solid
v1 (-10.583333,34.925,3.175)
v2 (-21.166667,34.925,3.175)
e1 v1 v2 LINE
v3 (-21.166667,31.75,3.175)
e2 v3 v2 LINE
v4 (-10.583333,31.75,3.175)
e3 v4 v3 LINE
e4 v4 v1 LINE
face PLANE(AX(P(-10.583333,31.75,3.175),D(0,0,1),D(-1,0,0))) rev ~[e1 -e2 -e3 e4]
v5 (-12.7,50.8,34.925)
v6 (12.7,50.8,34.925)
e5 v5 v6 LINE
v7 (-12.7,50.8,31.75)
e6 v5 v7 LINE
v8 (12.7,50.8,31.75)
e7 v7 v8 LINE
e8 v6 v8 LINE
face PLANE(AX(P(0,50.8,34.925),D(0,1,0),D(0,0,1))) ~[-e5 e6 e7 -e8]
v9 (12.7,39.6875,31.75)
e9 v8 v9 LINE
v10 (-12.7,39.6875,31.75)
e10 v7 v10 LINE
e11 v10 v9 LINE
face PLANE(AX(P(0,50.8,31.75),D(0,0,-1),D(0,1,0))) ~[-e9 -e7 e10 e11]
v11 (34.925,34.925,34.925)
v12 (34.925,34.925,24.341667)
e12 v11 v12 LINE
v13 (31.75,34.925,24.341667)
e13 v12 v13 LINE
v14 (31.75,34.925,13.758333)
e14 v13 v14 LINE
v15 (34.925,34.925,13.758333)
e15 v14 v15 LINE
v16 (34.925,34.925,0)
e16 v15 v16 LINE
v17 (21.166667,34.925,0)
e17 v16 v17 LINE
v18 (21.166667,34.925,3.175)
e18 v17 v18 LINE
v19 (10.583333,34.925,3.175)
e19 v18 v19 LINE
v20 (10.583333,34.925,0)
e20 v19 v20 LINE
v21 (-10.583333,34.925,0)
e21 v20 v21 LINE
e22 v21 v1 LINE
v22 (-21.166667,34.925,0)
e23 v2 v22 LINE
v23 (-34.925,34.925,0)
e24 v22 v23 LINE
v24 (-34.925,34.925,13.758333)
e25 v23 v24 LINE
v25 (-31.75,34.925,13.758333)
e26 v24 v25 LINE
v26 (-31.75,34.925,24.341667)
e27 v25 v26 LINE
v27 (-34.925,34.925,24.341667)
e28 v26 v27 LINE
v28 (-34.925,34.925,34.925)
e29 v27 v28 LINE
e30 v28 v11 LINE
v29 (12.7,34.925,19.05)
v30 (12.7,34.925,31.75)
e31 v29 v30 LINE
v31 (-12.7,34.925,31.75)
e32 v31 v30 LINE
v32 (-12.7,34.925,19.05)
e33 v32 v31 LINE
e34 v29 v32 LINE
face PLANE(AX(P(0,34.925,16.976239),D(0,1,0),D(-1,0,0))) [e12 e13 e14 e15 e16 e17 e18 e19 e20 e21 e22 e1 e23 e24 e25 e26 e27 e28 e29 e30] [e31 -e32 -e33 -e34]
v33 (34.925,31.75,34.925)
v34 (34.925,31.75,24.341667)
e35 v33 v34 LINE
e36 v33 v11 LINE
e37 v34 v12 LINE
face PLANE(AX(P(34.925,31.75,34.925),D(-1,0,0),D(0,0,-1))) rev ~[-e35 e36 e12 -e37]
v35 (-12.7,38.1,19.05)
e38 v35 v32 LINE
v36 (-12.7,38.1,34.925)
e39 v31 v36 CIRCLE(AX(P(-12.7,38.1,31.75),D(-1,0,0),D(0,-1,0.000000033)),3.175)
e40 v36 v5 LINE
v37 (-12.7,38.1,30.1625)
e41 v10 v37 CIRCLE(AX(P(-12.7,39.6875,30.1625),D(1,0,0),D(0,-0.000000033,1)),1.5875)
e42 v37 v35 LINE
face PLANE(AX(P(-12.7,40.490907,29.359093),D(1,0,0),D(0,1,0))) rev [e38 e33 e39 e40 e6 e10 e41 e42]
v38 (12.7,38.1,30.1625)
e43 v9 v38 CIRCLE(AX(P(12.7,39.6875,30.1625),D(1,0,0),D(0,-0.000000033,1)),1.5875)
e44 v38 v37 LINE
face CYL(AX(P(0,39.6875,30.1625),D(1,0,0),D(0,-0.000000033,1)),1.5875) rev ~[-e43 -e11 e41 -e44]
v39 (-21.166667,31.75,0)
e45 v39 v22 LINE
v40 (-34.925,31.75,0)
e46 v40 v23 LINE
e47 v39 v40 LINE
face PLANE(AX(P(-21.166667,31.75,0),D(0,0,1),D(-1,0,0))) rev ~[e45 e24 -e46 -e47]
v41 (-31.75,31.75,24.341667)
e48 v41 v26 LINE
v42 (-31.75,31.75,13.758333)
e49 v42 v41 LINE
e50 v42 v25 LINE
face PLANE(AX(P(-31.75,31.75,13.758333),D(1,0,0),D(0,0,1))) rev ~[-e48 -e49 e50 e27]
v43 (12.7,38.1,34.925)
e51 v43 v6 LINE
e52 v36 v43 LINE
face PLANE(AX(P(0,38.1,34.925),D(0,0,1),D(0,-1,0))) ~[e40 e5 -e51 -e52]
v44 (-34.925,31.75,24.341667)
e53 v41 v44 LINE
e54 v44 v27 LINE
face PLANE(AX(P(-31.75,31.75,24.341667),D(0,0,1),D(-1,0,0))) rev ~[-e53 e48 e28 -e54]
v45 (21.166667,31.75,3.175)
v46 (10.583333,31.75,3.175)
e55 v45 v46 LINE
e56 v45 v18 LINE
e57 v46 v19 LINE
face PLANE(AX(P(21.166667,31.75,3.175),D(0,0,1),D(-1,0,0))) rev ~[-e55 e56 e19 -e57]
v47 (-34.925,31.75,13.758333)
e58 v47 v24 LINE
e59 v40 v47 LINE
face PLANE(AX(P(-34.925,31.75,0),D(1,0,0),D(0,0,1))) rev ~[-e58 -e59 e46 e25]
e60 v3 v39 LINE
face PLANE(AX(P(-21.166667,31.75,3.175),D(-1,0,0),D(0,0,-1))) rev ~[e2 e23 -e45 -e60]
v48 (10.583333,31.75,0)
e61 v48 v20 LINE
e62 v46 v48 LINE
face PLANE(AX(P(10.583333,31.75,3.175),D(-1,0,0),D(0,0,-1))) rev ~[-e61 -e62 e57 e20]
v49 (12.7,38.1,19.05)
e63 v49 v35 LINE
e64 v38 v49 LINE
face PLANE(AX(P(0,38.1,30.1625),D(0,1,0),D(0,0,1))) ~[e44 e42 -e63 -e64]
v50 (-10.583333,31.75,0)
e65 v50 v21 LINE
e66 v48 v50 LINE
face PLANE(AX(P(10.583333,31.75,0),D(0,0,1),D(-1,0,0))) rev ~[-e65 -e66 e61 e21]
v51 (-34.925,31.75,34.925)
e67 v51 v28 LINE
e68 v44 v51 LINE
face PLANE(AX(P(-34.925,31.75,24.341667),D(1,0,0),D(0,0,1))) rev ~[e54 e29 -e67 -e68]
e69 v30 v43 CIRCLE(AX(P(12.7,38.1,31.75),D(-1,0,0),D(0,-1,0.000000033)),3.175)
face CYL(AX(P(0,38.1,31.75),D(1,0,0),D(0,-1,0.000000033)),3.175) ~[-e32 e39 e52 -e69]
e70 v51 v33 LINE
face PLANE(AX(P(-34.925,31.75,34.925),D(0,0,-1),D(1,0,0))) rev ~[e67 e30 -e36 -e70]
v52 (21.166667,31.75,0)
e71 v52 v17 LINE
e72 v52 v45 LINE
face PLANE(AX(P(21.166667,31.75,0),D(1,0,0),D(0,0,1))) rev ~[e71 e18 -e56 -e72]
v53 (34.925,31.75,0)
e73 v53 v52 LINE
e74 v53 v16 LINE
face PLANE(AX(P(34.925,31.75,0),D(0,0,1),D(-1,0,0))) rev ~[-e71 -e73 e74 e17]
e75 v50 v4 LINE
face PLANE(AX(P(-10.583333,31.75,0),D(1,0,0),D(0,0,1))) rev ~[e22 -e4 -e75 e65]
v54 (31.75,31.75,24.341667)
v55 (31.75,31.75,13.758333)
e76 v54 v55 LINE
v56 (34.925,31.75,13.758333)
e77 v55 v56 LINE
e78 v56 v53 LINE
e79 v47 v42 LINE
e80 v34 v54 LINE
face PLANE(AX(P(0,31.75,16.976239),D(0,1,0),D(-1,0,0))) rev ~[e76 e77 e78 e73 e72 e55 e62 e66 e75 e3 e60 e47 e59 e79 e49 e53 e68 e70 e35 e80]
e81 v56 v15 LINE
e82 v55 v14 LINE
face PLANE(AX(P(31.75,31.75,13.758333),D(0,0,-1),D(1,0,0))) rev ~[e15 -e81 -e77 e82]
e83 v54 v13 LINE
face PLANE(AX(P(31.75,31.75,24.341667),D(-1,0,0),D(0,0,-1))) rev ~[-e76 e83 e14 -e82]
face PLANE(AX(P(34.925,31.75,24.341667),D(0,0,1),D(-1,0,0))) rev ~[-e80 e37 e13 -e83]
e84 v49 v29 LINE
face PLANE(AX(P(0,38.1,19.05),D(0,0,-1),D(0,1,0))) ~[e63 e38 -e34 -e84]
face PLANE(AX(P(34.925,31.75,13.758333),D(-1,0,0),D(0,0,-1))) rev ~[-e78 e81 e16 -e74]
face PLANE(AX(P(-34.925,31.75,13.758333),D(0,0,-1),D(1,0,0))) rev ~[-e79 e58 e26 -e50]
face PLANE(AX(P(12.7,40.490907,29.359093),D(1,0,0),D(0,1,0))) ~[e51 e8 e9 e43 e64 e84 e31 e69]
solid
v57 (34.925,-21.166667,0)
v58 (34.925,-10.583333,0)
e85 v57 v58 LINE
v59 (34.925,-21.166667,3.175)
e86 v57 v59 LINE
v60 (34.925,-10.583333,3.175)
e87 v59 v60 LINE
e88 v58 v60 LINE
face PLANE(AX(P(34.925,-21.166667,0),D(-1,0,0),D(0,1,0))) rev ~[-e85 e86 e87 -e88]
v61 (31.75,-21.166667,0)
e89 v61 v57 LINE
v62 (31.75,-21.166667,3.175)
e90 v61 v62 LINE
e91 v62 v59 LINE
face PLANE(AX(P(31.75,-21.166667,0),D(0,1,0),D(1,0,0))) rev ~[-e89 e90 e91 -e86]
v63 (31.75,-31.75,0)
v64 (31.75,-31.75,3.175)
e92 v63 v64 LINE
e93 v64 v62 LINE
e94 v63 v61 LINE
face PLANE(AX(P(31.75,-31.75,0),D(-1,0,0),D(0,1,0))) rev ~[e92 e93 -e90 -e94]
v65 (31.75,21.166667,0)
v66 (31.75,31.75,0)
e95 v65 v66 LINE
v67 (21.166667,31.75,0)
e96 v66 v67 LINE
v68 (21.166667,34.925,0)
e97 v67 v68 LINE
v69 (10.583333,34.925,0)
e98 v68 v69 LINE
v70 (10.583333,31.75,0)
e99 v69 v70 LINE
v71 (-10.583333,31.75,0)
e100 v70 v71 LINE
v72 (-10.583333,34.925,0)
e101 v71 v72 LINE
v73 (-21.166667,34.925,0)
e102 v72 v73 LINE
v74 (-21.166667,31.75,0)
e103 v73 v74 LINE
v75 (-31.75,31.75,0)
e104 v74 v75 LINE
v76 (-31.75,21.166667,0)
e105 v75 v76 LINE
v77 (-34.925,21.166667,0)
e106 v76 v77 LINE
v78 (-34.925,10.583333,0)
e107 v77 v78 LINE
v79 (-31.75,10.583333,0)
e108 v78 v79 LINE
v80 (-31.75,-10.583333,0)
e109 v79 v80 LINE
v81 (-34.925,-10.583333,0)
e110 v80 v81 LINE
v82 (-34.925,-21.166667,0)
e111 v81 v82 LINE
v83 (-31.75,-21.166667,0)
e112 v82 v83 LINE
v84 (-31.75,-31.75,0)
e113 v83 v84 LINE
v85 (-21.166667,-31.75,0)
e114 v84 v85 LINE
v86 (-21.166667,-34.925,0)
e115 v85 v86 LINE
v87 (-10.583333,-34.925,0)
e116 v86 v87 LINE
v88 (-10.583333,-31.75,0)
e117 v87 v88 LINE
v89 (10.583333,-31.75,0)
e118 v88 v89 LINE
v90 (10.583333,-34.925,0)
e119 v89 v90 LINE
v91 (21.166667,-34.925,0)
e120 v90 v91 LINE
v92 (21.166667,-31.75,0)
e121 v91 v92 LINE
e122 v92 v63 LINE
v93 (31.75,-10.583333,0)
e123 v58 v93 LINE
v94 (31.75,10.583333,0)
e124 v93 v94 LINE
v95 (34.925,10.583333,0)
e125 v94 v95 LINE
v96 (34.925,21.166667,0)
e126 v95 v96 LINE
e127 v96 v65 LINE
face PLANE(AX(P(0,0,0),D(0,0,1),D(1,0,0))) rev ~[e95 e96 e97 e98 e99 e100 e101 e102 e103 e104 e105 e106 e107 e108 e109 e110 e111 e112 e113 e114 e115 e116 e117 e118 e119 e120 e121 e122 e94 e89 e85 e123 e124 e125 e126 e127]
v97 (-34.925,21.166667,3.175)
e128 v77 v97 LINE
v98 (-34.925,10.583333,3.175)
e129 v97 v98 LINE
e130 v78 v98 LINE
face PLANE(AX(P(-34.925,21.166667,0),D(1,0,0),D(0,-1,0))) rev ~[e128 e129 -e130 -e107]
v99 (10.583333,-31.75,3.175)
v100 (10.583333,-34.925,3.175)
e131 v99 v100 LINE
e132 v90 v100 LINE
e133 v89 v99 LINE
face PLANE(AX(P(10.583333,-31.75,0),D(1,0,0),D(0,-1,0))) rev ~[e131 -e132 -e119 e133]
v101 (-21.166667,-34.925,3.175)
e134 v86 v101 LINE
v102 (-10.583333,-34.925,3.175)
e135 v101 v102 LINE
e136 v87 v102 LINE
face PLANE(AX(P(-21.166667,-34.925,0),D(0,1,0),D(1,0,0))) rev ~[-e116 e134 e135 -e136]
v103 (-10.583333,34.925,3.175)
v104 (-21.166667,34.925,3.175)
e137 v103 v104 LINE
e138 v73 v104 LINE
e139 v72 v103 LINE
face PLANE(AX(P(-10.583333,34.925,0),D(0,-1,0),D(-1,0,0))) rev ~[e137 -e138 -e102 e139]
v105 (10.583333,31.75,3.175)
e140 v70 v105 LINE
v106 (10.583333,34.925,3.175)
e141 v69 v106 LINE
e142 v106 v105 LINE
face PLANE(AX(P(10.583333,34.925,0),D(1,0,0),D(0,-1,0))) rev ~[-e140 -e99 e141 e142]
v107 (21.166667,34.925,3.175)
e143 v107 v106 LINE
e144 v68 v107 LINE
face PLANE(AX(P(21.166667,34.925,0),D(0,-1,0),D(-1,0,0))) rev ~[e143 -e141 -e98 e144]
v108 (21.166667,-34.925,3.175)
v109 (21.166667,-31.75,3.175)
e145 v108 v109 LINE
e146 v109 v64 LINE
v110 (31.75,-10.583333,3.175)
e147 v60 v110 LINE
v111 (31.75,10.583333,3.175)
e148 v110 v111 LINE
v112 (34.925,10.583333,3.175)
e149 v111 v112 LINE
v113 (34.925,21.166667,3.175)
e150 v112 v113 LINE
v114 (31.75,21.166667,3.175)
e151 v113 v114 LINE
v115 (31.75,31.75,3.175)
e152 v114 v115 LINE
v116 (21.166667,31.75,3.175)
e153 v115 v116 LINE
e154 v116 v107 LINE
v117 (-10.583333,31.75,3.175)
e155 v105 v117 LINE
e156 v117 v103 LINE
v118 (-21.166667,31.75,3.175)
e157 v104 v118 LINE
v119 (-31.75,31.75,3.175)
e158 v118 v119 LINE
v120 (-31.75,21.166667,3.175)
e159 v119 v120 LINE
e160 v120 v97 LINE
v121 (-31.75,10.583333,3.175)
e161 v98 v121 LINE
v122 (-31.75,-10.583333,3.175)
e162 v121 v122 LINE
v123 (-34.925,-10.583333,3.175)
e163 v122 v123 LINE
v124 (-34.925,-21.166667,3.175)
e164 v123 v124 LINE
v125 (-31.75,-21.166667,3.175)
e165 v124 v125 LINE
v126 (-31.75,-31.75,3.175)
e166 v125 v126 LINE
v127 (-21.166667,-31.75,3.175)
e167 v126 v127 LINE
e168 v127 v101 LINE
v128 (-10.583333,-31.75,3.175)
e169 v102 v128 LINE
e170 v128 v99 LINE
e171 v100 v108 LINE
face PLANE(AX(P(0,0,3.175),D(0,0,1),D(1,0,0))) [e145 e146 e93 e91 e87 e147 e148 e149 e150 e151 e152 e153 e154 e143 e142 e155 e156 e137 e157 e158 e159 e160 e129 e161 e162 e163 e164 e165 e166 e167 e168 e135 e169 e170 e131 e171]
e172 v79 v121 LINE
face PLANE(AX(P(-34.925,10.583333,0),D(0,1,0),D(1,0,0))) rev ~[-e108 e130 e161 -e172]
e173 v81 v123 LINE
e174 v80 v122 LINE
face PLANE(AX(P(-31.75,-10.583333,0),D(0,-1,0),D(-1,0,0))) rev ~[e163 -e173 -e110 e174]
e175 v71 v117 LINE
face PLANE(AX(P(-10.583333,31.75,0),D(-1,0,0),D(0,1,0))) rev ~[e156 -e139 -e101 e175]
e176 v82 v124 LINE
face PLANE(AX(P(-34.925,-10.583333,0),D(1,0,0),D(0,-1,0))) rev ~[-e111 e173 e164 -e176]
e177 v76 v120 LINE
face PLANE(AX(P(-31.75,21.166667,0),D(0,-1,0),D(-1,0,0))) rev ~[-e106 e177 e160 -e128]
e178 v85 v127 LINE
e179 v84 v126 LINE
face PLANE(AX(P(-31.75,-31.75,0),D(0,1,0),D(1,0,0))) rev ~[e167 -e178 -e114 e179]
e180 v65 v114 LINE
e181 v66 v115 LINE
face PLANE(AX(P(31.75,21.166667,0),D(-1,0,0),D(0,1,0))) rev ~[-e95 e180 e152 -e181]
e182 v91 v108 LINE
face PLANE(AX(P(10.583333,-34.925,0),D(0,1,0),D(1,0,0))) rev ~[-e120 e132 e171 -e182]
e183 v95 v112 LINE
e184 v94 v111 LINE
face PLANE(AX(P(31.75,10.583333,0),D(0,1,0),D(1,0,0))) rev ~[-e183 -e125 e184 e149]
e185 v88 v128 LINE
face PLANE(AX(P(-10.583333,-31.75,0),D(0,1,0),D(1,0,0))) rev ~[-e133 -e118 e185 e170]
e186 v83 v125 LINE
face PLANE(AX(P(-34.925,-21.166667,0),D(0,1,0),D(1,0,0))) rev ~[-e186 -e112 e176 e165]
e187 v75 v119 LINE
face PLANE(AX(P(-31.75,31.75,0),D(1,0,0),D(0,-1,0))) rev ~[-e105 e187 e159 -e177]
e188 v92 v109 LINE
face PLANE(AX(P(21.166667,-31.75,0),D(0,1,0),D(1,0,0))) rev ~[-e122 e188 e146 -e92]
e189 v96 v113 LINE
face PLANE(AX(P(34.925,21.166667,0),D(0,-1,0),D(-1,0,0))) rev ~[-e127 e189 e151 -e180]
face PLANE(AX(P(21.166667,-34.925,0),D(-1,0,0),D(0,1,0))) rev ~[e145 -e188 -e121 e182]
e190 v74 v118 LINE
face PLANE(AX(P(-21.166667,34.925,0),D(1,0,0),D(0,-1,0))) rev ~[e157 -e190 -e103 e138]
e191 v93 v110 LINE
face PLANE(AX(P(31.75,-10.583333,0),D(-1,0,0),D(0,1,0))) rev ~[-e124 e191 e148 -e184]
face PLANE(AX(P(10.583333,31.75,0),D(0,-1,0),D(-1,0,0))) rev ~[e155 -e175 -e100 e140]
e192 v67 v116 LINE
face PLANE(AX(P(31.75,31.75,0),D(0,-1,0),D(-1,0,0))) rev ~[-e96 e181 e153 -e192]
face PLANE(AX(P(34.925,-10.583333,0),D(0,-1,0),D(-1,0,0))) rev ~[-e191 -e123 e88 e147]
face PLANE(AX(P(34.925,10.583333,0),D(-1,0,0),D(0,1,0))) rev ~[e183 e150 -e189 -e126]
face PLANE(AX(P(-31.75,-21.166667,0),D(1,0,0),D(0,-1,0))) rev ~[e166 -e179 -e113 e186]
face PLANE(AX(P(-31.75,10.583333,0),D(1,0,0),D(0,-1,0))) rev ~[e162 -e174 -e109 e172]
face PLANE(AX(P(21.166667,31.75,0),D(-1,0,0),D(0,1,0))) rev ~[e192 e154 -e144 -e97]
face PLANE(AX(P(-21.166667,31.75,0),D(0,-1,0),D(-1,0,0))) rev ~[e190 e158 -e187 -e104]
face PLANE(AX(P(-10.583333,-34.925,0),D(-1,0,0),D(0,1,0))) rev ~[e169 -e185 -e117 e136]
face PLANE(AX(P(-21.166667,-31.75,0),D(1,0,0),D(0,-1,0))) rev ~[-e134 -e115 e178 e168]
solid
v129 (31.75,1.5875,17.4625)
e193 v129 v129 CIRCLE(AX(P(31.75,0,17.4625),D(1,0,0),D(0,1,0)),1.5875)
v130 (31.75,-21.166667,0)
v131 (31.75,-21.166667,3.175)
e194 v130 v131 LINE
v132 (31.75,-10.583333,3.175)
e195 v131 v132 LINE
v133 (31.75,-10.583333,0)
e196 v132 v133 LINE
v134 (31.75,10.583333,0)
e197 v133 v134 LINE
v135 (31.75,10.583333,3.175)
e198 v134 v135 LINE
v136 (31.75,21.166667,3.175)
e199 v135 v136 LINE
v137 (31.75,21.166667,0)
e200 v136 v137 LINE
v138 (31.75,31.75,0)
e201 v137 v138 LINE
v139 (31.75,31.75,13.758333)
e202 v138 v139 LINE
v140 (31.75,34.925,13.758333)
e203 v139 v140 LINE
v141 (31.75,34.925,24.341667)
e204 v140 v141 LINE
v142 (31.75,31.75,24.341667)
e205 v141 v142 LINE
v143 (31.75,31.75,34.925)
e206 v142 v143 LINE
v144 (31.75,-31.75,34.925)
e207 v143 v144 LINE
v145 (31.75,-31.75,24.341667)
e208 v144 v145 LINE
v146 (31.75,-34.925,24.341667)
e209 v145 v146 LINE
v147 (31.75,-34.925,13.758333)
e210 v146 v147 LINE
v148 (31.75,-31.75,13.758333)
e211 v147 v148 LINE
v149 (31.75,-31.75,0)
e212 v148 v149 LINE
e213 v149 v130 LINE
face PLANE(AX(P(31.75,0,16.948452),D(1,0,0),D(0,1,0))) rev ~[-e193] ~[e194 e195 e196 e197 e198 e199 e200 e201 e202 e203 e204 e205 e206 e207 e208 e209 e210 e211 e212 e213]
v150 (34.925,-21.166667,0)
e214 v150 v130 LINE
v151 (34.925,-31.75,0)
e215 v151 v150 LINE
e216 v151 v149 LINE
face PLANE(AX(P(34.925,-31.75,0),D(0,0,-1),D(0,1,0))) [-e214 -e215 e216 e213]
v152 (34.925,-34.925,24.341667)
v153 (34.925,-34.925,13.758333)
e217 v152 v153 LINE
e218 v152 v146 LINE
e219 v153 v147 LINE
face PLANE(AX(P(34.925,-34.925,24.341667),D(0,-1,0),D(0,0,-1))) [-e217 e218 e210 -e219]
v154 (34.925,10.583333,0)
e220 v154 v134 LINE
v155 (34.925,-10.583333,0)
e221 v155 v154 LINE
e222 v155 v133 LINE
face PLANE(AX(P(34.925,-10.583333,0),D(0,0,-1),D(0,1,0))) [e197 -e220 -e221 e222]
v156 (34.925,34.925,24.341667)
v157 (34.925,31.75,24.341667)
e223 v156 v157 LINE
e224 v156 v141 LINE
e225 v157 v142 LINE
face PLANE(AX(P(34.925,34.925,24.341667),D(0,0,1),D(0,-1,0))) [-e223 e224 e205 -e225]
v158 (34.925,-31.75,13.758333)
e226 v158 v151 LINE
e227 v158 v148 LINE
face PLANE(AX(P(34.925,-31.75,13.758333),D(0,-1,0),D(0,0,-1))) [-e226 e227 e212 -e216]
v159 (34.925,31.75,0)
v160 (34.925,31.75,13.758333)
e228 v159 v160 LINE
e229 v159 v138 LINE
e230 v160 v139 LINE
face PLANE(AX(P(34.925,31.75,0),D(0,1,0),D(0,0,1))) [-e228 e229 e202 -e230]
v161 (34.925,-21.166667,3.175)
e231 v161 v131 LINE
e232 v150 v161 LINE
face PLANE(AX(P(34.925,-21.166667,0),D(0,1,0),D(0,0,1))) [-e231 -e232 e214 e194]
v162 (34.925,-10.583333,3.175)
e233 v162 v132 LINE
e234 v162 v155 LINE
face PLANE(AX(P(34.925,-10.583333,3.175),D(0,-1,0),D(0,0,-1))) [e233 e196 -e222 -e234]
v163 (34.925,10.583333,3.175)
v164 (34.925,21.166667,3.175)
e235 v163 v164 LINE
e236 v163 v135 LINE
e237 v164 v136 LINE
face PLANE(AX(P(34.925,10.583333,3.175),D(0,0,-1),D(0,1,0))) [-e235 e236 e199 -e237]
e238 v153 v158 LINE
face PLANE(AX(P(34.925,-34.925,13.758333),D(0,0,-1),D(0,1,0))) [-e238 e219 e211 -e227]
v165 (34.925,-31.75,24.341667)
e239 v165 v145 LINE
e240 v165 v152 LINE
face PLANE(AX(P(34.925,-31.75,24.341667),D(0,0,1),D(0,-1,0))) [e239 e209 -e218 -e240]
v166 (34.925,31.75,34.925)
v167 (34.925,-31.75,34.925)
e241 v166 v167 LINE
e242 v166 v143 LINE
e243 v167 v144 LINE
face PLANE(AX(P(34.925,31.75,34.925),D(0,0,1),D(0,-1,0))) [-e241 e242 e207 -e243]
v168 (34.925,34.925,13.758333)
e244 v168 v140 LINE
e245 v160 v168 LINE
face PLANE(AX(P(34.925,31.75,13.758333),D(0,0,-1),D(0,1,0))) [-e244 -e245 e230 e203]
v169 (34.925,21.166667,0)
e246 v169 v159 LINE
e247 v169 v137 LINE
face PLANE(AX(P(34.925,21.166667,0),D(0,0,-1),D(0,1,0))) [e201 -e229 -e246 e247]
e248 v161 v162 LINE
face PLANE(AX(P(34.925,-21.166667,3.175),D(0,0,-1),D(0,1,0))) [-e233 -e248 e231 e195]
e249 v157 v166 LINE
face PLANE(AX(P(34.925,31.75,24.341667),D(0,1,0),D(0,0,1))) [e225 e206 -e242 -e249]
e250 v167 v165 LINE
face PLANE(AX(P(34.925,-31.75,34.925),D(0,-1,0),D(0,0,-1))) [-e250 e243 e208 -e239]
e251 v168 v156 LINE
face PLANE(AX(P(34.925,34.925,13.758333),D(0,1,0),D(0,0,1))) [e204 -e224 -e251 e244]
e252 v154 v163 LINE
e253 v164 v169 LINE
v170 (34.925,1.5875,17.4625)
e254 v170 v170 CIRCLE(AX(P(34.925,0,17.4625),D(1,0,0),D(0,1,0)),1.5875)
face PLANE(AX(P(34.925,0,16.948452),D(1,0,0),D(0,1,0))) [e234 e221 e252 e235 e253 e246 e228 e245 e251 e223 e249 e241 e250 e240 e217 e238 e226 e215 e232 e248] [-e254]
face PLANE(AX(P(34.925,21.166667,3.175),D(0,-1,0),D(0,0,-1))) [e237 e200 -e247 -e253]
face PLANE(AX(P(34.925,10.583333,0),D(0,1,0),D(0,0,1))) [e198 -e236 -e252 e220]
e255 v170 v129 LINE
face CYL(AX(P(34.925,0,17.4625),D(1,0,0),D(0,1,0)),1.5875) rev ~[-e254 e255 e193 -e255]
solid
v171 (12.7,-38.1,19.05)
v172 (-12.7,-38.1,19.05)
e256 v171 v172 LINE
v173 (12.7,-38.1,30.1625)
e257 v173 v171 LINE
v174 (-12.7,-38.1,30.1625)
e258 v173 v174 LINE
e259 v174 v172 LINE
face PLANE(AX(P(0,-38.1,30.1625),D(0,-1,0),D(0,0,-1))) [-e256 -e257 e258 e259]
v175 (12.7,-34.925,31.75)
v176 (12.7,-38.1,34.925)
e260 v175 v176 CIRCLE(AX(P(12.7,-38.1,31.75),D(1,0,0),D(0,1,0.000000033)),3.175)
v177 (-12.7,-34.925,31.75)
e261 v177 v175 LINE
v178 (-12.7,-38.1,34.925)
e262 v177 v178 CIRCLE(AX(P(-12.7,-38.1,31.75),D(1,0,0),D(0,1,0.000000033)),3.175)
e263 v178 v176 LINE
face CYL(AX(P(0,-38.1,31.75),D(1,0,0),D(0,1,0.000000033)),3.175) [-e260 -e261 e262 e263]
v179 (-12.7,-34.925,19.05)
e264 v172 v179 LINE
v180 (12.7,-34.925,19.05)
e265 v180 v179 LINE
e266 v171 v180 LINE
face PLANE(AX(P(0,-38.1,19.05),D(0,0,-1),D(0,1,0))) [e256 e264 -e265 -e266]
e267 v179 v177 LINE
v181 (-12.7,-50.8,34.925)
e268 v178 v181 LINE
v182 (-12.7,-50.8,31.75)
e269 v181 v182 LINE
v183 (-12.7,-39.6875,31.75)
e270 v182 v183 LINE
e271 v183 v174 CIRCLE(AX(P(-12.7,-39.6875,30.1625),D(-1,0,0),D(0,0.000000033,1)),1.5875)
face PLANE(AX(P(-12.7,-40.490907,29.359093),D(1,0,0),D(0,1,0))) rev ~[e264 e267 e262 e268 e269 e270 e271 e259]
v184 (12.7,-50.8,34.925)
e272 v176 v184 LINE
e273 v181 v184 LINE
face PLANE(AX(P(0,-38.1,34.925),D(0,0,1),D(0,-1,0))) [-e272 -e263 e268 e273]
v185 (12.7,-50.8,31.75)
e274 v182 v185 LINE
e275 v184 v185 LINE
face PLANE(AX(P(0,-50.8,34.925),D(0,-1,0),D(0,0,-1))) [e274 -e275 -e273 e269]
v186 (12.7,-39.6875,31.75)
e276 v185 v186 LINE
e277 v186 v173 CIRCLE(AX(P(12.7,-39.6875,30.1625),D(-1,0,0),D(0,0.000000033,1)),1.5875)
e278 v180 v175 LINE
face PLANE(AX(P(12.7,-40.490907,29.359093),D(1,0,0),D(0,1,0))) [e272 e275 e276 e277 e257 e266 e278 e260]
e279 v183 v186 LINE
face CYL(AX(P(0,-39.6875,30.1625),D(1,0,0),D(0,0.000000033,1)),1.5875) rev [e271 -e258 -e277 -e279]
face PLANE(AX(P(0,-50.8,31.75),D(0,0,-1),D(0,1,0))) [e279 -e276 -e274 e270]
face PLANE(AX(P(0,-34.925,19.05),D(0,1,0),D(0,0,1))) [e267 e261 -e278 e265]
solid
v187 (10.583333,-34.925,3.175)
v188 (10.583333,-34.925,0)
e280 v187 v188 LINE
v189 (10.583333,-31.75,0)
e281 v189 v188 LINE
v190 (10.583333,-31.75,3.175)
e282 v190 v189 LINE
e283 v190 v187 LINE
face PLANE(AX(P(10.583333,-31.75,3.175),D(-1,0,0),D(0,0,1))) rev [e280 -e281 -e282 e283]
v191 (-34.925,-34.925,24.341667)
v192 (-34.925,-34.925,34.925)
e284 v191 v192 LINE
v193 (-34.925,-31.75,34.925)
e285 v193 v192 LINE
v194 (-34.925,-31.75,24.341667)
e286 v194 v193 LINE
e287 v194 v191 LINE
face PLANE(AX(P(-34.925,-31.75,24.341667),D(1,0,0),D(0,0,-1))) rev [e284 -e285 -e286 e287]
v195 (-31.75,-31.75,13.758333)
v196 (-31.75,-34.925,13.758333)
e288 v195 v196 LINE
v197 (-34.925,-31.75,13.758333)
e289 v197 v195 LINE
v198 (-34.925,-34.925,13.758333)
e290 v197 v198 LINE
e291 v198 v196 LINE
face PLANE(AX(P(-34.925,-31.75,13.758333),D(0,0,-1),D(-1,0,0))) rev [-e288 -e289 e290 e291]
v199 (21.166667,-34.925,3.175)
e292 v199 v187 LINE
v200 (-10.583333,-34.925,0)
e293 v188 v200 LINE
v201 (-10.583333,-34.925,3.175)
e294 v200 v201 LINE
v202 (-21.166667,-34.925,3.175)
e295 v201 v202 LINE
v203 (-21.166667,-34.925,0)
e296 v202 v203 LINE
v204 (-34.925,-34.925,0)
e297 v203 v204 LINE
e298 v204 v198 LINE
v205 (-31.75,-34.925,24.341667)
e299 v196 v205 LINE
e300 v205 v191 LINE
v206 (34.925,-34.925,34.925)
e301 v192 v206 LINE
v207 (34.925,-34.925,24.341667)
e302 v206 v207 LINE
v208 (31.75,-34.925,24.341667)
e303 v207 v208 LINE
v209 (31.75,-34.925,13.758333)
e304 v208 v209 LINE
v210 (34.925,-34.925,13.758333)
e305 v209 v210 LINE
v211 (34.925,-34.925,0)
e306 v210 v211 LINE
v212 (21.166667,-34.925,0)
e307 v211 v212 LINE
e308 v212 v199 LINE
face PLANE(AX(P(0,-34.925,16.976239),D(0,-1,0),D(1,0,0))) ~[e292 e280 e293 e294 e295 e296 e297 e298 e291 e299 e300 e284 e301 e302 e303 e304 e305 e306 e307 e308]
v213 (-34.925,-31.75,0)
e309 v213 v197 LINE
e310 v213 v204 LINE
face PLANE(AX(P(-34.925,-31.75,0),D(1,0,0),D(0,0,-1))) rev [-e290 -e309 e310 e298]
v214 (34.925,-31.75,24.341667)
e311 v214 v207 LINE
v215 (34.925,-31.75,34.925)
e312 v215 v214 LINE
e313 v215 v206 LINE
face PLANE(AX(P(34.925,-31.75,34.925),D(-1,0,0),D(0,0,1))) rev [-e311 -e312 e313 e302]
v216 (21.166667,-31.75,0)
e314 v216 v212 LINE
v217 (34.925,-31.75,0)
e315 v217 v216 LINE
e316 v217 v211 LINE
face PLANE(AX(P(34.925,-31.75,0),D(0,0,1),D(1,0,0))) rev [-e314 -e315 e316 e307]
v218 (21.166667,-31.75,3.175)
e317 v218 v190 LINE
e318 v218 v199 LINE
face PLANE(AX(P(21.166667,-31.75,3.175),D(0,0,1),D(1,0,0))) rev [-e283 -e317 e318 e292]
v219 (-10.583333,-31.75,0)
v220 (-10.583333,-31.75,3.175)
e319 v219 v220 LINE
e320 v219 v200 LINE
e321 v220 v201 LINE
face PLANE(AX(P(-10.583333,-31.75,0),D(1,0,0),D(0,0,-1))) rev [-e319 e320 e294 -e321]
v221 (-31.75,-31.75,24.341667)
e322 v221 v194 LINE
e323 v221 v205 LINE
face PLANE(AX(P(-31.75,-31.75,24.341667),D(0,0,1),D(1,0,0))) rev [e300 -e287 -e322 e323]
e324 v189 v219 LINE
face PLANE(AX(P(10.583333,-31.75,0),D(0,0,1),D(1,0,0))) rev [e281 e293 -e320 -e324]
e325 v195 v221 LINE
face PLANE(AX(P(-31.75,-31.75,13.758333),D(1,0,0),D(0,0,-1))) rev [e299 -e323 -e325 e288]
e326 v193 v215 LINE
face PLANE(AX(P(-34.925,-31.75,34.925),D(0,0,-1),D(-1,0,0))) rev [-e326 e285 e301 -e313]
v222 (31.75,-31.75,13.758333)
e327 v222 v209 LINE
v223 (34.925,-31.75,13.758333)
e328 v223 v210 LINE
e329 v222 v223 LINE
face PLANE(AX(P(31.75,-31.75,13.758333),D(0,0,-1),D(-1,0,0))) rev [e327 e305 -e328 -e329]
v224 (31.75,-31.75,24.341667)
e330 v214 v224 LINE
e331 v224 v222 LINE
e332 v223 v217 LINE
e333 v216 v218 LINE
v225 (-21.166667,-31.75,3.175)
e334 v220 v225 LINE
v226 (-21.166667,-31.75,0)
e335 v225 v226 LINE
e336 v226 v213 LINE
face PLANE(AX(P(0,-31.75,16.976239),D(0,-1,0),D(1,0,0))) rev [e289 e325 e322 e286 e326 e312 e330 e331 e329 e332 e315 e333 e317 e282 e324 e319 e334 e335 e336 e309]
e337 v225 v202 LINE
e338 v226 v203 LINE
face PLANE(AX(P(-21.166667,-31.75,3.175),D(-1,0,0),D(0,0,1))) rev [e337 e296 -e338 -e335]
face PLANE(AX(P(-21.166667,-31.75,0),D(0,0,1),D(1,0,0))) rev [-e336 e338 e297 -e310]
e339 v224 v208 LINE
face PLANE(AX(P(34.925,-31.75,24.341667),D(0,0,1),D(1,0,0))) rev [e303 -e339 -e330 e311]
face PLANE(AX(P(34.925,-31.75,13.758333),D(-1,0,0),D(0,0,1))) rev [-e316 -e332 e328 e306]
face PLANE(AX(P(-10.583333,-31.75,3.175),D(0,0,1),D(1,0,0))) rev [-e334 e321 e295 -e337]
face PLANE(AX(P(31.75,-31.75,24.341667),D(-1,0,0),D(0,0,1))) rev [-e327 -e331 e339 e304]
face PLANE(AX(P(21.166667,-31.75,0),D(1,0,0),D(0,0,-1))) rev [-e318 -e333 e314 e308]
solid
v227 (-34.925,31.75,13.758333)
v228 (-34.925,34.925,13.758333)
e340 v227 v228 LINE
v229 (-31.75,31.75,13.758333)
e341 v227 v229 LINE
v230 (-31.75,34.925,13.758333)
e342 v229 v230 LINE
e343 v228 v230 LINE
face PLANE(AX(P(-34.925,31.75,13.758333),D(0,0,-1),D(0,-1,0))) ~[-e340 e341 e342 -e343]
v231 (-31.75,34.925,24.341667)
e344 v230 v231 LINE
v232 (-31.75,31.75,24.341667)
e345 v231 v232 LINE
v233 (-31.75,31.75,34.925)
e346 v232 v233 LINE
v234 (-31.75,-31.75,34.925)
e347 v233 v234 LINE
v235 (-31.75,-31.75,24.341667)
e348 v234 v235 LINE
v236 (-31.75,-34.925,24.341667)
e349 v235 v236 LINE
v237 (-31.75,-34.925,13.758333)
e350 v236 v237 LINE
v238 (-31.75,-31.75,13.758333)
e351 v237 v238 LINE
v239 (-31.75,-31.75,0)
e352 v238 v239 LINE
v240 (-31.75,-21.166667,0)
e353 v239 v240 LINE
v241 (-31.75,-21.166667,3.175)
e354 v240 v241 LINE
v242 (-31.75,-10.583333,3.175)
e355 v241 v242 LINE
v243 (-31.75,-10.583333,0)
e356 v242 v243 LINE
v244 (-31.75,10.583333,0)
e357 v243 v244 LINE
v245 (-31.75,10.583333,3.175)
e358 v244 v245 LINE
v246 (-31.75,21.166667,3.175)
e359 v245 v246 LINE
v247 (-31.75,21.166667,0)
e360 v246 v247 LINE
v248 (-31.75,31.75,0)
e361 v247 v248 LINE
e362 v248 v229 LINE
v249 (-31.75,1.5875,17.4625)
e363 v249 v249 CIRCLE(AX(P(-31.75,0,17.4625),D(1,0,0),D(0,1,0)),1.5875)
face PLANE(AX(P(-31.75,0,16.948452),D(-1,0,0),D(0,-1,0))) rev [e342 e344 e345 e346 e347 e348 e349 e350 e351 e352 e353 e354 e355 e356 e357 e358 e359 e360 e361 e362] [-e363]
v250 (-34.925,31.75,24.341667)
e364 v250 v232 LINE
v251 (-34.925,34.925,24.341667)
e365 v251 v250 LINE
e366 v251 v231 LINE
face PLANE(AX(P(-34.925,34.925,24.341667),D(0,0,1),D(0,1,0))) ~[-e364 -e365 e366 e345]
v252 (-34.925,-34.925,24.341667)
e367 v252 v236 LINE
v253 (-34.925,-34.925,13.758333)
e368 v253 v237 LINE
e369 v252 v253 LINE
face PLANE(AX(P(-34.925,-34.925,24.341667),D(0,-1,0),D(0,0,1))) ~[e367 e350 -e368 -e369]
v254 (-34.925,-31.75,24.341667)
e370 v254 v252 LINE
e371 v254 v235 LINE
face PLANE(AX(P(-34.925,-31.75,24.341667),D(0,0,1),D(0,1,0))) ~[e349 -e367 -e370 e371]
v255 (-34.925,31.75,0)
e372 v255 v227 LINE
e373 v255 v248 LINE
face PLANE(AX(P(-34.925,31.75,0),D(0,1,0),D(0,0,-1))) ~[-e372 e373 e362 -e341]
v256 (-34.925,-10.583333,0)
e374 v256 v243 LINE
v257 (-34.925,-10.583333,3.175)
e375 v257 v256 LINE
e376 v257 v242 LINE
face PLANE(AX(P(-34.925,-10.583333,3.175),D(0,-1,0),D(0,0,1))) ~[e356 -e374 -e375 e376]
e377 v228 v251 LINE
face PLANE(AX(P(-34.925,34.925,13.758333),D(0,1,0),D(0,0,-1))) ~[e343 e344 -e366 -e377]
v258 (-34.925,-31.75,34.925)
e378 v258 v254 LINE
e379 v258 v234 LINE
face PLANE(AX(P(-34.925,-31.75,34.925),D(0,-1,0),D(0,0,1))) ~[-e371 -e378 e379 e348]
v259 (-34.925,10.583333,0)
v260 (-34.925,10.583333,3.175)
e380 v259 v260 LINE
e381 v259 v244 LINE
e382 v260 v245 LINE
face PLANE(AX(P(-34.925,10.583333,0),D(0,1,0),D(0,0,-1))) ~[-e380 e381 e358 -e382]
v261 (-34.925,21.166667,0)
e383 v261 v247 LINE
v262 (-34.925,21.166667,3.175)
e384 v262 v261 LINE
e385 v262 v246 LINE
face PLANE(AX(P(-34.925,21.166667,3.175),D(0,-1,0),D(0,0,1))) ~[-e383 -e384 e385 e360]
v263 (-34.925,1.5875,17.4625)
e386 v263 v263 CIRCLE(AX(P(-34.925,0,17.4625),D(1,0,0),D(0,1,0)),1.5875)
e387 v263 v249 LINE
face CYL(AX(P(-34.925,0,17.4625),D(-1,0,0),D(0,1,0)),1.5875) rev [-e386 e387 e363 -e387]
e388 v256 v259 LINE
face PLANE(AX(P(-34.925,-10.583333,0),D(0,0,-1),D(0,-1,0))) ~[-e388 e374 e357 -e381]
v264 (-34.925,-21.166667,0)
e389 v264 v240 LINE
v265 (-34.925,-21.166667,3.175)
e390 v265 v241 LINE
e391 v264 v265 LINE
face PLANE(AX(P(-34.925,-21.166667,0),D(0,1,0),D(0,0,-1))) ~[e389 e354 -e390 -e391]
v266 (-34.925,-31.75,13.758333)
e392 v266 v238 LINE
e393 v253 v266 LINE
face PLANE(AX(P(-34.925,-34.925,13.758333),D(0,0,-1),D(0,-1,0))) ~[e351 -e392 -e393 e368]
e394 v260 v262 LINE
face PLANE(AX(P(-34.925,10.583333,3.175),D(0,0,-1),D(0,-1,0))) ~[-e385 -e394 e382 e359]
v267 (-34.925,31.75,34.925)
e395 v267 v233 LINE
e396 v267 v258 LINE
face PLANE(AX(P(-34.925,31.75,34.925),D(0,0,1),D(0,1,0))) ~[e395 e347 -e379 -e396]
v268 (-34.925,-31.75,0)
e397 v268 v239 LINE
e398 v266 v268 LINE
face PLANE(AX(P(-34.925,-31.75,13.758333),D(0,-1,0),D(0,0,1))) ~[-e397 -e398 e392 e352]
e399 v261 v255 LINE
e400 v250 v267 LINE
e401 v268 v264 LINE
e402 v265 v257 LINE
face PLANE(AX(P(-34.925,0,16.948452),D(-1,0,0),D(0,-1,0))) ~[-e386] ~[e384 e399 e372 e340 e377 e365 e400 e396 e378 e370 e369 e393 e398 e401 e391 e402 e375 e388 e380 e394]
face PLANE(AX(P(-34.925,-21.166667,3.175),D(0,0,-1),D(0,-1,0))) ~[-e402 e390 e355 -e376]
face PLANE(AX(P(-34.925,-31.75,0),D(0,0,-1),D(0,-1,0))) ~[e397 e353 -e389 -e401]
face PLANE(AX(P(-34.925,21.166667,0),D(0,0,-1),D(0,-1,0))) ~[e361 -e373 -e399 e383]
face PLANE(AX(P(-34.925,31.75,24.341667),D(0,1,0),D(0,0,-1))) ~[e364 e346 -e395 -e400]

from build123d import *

# Parameters (mm, degrees)
F1_DEPTH      = 3.175
F2_R          = 1.5875
F3_DEPTH      = 3.175
F6_DEPTH      = 3.175
F9_DEPTH      = 12.7
F9_DEPTH_BACK = 12.7


with BuildPart() as f1:
    # F0 (on Top) → F1 (new body)
    with BuildSketch(Plane.XY):
        Polygon((-21.166667, 31.75), (-31.75, 31.75), (-31.75, 21.166667), (-34.925, 21.166667), (-34.925, 10.583333), (-31.75, 10.583333), (-31.75, 0), (-31.75, -10.583333), (-34.925, -10.583333), (-34.925, -21.166667), (-31.75, -21.166667), (-31.75, -31.75), (-21.166667, -31.75), (-21.166667, -34.925), (-10.583333, -34.925), (-10.583333, -31.75), (0, -31.75), (10.583333, -31.75), (10.583333, -34.925), (21.166667, -34.925), (21.166667, -31.75), (31.75, -31.75), (31.75, -21.166667), (34.925, -21.166667), (34.925, -10.583333), (31.75, -10.583333), (31.75, 0), (31.75, 10.583333), (34.925, 10.583333), (34.925, 21.166667), (31.75, 21.166667), (31.75, 31.75), (21.166667, 31.75), (21.166667, 34.925), (10.583333, 34.925), (10.583333, 31.75), (0, 31.75), (-10.583333, 31.75), (-10.583333, 34.925), (-21.166667, 34.925), align=None)
    extrude(amount=F1_DEPTH)


with BuildPart() as f3:
    # F2 (on face) → F3 (new body, through all)
    with BuildSketch(Plane.YZ.offset(34.925)):
        Polygon((-31.75, 3.175), (-31.75, 0), (-21.166667, 0), (-21.166667, 3.175), (-10.583333, 3.175), (-10.583333, 0), (10.583333, 0), (10.583333, 3.175), (21.166667, 3.175), (21.166667, 0), (31.75, 0), (31.75, 3.175), (31.75, 13.758333), (34.925, 13.758333), (34.925, 24.341667), (31.75, 24.341667), (31.75, 34.925), (-31.75, 34.925), (-31.75, 24.341667), (-34.925, 24.341667), (-34.925, 13.758333), (-31.75, 13.758333), align=None)
        with Locations((0, 17.4625)):
            Circle(F2_R, mode=Mode.SUBTRACT)
    extrude(amount=-F3_DEPTH)


with BuildPart() as f4_1:
    # F4: instance of F3
    add(f3.part.mirror(Plane.YZ))


with BuildPart() as f6:
    # F5 (on face) → F6 (new body)
    with BuildSketch(Plane(origin=(0, 31.75, 0), x_dir=(-1, 0, 0), z_dir=(0, 1, 0))):
        Polygon((31.75, 24.341667), (34.925, 24.341667), (34.925, 34.925), (-34.925, 34.925), (-34.925, 24.341667), (-31.75, 24.341667), (-31.75, 13.758333), (-34.925, 13.758333), (-34.925, 0), (-21.166667, 0), (-21.166667, 3.175), (-10.583333, 3.175), (-10.583333, 0), (10.583333, 0), (10.583333, 3.175), (21.166667, 3.175), (21.166667, 0), (34.925, 0), (34.925, 13.758333), (31.75, 13.758333), align=None)
    extrude(amount=F6_DEPTH)

    # F10: F9 across plane


with BuildPart() as f7_1:
    # F7: instance of F6
    add(f6.part.mirror(Plane.XZ))


with BuildPart() as f9:
    # F8 (on Right) → F9 (new body, two sides)
    with BuildSketch(Plane.YZ) as f9_sk:
        with BuildLine():
            Line((-34.925, 19.05), (-34.925, 31.75))
            ThreePointArc((-34.925, 31.75), (-35.854936, 33.995064), (-38.1, 34.925))
            Line((-38.1, 34.925), (-50.8, 34.925))
            Line((-50.8, 34.925), (-50.8, 31.75))
            Line((-50.8, 31.75), (-39.6875, 31.75))
            ThreePointArc((-39.6875, 31.75), (-38.564968, 31.285032), (-38.1, 30.1625))
            Line((-38.1, 30.1625), (-38.1, 19.05))
            Line((-38.1, 19.05), (-34.925, 19.05))
        make_face()
    extrude(amount=F9_DEPTH)
    extrude(f9_sk.sketch, amount=-F9_DEPTH_BACK)


with BuildPart() as f6_1:
    add(f6.part)
    add(f9.part.mirror(Plane.XZ))


solid = Compound([f1.part, f3.part, f4_1.part, f7_1.part, f9.part, f6_1.part])
